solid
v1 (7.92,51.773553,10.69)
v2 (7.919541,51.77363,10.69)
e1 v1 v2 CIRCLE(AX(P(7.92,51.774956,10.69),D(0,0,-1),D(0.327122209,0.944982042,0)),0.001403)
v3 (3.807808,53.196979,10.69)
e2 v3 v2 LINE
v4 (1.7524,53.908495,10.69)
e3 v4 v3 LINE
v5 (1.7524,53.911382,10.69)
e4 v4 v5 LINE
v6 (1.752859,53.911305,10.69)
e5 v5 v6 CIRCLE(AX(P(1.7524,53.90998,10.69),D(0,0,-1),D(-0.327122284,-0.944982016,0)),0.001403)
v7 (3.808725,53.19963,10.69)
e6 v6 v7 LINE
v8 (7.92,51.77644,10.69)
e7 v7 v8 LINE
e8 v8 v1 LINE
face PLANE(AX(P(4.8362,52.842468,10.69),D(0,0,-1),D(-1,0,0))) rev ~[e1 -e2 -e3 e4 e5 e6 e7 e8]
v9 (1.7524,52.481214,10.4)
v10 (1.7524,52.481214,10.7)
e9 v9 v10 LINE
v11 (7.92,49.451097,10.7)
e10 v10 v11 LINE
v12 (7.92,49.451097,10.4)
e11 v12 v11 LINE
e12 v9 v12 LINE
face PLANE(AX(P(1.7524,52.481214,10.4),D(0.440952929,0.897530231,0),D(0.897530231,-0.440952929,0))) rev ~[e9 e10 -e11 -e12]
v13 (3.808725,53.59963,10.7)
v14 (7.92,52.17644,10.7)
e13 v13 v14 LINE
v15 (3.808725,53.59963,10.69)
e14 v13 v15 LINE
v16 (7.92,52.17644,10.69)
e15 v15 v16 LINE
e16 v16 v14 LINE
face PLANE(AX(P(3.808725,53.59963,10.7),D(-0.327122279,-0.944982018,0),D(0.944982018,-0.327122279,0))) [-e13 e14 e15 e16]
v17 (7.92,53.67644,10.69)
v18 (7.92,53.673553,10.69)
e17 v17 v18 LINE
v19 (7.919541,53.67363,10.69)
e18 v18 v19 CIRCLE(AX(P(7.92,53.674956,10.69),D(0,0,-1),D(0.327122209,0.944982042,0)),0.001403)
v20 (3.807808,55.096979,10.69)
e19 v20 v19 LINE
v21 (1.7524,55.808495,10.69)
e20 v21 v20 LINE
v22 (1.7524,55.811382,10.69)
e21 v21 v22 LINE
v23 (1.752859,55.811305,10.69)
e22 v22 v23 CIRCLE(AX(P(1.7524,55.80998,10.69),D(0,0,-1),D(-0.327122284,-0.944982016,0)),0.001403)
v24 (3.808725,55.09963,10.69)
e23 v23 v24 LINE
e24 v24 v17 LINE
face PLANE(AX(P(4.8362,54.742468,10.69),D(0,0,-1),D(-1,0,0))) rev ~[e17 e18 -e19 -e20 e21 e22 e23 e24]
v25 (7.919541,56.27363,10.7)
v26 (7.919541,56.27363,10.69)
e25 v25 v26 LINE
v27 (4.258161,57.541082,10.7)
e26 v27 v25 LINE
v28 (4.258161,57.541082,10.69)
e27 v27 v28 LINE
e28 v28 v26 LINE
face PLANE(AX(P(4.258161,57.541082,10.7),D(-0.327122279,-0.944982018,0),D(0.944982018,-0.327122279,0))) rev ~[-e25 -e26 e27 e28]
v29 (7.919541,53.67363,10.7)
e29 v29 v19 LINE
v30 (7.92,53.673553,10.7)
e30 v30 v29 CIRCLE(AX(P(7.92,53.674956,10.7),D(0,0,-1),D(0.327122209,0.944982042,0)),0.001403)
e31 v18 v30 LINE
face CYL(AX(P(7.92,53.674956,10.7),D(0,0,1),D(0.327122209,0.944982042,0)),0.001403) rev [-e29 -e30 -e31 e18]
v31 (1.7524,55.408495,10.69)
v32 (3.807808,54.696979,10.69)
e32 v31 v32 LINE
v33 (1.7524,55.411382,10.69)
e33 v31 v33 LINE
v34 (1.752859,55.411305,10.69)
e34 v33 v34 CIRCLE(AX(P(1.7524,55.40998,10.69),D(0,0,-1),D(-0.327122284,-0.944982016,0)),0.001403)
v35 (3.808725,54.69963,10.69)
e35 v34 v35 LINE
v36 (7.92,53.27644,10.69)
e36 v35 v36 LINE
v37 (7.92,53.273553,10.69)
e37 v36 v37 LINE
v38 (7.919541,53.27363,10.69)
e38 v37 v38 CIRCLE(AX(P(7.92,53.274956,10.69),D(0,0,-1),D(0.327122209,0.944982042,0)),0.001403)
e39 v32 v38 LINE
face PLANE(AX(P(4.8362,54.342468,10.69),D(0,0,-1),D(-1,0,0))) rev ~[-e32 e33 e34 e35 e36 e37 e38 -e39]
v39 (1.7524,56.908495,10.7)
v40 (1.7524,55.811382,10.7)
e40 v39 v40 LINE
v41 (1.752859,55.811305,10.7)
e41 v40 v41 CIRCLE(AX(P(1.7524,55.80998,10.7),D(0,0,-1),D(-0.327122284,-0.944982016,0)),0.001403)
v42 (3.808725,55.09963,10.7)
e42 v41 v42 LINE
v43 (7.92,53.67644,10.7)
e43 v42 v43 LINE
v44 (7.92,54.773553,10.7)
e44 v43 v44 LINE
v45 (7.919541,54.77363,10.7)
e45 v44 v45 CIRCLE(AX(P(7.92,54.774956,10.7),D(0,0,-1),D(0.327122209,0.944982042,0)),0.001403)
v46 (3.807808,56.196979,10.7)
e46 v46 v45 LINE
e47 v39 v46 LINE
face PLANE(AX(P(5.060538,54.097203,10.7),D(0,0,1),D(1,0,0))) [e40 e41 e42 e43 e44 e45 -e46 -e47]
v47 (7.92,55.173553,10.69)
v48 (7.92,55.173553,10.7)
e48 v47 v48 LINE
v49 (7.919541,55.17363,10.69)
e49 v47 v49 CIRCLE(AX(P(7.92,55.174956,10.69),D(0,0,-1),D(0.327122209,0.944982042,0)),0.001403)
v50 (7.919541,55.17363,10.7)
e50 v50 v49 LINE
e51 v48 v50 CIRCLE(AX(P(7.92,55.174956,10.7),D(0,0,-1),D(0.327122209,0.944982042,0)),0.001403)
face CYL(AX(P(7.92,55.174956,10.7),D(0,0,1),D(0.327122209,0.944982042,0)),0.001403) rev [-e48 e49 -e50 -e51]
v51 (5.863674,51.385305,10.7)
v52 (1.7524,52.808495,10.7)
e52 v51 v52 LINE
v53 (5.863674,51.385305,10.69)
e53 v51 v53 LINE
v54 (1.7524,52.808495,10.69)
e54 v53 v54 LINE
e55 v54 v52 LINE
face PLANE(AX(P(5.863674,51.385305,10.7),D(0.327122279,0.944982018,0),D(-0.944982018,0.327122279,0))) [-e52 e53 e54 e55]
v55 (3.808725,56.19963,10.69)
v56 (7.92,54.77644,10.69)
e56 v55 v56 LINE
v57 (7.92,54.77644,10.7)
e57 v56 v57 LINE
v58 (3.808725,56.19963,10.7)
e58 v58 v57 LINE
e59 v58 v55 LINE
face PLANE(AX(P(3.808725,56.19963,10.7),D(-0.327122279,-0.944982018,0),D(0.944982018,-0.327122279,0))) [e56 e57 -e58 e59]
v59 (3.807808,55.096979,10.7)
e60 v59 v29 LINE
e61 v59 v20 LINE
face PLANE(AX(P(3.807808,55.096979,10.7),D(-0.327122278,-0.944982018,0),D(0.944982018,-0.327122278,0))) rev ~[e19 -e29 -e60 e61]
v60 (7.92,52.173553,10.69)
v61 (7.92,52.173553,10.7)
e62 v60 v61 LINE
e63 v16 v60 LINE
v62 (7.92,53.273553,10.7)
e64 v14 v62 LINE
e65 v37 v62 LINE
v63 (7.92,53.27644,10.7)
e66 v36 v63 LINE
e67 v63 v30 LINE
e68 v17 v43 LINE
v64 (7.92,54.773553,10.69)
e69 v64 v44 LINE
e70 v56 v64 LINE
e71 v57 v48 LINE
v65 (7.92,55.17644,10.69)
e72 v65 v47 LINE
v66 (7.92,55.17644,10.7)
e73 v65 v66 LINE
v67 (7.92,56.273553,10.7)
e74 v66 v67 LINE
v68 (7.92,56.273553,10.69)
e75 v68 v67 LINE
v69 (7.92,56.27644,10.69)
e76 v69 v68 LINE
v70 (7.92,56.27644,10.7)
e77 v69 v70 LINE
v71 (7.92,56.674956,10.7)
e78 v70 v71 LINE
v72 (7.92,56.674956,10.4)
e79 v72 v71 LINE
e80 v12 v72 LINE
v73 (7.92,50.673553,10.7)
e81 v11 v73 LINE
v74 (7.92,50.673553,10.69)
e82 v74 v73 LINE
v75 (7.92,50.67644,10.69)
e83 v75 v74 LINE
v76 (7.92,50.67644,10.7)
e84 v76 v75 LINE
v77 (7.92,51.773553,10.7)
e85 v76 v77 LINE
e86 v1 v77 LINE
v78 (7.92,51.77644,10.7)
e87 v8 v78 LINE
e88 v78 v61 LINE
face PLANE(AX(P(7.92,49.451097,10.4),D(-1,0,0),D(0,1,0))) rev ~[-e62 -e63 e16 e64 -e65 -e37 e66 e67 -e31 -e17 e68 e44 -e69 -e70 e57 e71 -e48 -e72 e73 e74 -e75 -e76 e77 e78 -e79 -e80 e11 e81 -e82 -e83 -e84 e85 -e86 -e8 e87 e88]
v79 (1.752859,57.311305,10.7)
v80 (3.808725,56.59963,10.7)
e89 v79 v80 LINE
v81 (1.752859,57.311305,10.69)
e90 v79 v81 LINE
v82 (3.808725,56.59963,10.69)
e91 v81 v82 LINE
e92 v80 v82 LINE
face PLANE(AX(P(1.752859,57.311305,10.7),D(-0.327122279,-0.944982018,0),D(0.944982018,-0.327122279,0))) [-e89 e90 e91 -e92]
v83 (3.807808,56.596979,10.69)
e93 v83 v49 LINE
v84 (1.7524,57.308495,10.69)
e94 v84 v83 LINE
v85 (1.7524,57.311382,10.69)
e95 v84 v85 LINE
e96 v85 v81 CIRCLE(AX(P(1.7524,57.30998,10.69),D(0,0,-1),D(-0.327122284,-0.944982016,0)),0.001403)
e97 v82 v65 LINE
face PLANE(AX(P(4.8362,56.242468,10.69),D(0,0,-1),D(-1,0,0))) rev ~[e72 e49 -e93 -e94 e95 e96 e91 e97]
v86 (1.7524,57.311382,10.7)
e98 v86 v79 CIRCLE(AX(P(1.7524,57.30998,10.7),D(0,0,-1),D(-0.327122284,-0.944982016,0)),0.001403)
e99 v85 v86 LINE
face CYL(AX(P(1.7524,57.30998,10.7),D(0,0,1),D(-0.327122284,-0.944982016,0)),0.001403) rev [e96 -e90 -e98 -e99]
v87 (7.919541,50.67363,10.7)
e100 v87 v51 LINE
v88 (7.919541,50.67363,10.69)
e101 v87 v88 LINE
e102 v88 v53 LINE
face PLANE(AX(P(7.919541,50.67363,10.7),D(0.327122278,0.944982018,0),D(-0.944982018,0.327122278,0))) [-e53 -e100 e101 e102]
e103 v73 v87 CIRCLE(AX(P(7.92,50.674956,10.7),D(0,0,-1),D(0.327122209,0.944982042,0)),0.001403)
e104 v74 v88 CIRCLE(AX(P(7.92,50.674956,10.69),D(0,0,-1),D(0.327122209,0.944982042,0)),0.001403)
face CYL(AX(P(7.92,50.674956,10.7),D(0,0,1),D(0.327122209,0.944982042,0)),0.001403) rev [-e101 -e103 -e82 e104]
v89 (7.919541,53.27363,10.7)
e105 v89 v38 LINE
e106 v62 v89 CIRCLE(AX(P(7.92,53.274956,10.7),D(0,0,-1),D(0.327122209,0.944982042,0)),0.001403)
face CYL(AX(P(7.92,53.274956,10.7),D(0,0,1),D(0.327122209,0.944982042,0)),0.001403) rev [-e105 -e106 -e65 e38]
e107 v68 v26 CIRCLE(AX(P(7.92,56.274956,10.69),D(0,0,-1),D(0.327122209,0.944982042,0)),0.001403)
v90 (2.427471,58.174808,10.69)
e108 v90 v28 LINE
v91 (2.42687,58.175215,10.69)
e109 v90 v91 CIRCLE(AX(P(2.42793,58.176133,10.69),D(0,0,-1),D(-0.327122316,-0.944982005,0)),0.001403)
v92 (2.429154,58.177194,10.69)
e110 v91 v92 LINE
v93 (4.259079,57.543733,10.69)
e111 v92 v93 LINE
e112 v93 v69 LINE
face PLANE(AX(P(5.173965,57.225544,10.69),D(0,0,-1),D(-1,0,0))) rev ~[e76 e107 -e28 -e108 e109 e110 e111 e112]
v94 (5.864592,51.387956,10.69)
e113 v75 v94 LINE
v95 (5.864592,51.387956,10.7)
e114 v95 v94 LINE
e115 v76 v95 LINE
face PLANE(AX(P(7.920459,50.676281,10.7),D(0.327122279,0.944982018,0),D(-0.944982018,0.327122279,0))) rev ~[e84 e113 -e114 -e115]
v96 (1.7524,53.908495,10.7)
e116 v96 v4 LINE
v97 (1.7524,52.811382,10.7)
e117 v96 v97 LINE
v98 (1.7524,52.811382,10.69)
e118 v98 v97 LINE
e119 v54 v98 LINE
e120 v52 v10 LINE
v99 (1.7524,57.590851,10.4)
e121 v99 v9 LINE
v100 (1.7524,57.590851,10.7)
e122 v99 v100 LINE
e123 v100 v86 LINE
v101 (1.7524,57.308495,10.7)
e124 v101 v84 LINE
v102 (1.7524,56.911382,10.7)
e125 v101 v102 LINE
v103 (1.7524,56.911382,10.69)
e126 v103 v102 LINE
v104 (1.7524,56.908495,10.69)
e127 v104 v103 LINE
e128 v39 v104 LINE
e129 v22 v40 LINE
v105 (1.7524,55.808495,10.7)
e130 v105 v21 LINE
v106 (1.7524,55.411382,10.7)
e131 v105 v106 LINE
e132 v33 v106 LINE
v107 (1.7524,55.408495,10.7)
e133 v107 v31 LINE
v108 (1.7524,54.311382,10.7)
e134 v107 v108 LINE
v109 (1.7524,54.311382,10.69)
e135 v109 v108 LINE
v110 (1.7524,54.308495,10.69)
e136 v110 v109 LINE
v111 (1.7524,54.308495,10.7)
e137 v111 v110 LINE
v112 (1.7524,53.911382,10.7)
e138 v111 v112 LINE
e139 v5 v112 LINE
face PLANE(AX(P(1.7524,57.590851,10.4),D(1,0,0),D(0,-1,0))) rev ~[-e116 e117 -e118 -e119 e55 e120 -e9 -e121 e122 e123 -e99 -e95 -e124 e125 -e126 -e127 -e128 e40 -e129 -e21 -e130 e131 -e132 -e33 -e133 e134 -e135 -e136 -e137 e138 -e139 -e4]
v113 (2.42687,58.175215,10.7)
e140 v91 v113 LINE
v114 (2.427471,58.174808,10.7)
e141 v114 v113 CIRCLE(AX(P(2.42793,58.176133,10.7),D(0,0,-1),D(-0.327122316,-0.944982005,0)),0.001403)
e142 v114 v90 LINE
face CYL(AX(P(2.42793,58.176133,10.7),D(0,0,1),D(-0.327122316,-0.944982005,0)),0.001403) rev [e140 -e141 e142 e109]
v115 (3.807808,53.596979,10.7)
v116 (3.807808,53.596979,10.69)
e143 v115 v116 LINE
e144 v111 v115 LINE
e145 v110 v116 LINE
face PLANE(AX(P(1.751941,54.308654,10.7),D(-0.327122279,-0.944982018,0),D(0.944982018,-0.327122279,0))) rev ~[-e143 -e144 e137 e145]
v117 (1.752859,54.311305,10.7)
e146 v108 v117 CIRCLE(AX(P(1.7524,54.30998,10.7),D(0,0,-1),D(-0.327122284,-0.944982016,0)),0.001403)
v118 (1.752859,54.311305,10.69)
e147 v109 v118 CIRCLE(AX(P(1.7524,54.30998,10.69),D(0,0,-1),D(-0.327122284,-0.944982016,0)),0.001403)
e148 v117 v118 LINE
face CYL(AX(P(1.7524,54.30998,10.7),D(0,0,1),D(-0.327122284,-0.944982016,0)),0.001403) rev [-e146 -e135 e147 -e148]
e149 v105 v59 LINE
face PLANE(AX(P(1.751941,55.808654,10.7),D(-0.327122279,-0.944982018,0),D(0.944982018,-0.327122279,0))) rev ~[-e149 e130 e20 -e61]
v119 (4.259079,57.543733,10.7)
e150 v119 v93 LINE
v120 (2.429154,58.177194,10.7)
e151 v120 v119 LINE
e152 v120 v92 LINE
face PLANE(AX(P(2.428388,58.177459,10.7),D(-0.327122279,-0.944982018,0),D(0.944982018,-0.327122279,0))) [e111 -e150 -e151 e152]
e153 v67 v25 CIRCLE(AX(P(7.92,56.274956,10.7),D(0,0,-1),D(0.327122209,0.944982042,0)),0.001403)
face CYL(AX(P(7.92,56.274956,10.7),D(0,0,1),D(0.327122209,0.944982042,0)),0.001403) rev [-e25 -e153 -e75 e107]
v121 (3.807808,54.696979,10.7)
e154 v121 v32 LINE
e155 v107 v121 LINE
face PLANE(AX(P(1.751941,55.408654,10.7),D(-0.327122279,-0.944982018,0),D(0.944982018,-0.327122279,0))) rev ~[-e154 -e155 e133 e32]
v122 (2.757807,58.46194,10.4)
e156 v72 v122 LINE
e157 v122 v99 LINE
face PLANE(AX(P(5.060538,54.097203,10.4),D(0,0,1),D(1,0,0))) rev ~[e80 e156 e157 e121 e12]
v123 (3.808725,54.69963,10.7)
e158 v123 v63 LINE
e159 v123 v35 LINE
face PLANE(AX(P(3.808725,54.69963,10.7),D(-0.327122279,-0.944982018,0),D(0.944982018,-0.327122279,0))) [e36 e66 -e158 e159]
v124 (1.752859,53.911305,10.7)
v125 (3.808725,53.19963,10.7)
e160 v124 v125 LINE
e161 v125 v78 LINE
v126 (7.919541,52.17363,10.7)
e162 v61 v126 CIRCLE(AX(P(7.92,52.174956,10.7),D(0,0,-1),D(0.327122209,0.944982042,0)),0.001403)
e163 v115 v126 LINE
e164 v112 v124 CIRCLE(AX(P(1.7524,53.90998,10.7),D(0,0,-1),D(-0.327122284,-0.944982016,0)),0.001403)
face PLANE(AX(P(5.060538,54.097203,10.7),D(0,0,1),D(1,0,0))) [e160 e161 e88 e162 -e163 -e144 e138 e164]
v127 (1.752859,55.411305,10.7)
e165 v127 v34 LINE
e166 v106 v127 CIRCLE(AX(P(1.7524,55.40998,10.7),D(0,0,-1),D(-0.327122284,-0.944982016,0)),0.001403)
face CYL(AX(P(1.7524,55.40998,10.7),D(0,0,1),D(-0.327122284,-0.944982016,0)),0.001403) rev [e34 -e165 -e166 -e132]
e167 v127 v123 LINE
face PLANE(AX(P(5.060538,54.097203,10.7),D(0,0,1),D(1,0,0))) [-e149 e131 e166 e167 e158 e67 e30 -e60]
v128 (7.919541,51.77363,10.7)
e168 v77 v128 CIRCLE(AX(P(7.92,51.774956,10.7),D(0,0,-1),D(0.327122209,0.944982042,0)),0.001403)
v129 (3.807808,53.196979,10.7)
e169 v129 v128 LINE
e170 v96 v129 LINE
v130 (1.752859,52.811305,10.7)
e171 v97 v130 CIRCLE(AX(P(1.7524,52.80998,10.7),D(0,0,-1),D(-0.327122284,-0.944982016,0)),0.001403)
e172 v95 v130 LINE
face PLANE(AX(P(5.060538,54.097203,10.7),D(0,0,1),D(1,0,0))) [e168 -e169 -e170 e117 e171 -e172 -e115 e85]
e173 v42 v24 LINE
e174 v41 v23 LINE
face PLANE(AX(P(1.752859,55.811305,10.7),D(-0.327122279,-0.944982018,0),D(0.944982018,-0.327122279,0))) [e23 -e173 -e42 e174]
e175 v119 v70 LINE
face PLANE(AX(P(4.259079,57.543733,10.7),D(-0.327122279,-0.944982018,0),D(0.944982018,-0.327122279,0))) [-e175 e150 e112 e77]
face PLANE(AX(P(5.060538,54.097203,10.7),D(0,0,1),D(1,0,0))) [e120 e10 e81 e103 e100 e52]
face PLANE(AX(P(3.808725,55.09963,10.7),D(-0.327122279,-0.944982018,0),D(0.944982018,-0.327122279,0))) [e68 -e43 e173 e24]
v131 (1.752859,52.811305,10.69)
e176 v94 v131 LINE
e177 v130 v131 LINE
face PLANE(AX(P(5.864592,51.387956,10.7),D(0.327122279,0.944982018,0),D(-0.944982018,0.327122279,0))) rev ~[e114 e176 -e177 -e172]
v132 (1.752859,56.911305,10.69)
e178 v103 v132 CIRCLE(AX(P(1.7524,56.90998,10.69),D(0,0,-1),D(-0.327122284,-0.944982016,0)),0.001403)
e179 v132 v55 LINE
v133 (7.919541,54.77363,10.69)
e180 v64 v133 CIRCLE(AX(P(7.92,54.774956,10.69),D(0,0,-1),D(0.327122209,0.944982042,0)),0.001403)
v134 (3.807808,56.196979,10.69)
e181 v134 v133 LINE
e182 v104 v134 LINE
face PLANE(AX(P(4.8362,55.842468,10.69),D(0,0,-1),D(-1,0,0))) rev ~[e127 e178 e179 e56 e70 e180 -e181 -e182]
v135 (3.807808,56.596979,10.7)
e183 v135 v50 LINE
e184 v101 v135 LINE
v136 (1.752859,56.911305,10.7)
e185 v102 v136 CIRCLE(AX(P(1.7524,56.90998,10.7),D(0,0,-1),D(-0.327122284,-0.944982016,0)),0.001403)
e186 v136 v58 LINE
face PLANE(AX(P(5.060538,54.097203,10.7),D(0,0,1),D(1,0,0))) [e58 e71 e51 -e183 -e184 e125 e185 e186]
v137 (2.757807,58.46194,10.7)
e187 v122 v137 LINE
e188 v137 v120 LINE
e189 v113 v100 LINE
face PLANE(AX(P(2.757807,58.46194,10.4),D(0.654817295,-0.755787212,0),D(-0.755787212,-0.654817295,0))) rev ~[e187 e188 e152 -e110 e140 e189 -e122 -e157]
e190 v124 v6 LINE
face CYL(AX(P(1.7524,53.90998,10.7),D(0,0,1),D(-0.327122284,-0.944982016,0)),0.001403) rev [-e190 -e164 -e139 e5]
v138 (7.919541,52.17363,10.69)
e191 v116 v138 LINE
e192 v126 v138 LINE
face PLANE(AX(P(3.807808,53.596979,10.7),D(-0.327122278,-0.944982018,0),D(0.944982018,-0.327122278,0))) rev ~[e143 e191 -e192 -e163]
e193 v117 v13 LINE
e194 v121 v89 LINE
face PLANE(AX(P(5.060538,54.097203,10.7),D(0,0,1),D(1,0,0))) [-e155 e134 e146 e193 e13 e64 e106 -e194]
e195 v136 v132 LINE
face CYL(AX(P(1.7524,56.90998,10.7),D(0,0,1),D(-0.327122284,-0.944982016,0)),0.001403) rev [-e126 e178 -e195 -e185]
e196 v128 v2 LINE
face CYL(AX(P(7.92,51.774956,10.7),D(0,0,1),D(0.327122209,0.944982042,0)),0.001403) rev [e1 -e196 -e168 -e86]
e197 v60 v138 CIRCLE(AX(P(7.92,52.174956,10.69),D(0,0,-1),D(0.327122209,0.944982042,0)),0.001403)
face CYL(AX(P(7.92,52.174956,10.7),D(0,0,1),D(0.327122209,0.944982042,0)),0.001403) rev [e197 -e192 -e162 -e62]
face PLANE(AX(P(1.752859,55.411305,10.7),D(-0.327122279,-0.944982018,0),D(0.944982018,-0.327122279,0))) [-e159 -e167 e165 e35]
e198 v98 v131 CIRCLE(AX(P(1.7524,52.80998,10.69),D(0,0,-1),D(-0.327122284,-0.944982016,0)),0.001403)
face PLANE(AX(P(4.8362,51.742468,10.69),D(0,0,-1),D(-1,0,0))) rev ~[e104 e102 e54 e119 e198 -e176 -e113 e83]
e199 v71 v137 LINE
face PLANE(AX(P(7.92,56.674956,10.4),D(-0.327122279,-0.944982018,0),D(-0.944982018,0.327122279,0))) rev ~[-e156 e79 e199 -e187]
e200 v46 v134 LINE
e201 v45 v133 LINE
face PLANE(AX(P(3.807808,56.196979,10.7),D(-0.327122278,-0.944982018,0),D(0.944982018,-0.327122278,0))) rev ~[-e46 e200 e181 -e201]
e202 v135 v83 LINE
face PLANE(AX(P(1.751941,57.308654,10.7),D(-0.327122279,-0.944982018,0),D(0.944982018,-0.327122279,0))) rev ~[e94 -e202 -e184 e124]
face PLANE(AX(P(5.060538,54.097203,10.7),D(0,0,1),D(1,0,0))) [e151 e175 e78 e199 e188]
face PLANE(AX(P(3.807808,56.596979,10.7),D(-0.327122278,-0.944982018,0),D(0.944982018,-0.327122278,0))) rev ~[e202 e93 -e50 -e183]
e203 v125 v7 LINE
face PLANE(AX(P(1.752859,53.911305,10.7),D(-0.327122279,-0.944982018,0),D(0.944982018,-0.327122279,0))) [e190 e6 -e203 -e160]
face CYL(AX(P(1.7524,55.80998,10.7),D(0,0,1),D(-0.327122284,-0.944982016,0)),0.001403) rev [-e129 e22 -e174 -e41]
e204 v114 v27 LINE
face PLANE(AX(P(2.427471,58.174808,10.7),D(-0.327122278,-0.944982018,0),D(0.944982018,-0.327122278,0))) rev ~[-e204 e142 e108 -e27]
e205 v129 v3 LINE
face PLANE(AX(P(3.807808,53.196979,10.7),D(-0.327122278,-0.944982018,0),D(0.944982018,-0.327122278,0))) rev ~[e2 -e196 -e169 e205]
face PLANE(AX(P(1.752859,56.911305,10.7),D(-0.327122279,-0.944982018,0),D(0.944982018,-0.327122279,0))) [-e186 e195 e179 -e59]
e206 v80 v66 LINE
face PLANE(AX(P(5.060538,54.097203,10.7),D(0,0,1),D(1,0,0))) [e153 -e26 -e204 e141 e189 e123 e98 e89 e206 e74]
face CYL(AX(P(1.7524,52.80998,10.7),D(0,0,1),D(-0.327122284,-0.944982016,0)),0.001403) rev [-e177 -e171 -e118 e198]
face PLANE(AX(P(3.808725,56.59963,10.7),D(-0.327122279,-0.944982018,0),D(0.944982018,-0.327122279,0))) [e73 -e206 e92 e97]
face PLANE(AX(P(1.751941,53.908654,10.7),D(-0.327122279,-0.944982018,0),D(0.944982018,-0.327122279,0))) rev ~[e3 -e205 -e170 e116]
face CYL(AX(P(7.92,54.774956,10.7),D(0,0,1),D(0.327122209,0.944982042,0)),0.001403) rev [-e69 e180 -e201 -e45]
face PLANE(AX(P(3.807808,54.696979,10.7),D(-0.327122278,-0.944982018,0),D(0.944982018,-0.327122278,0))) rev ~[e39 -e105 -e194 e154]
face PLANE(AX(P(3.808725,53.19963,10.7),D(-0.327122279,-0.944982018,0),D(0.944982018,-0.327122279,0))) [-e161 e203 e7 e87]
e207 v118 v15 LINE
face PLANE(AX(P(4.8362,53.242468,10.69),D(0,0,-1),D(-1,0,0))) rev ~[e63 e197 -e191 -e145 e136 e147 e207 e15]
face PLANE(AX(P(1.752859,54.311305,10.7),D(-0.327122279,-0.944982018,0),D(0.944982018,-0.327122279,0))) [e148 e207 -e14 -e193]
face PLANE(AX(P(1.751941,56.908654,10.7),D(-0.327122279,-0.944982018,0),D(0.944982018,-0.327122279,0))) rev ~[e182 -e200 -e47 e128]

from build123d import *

# Parameters (mm, degrees)
PAD002_DEPTH    = 0.3
POCKET008_DEPTH = 0.01
POCKET009_DEPTH = 0.01


with BuildPart() as part:
    # Sketch009 (on Face1 of Binder002) → Pad002 (new body)
    with BuildSketch(Plane.XY.offset(10.4)):
        Polygon((1.7523997574, 57.5908510487), (1.7523997574, 52.4812141451), (7.92, 49.4510973901), (7.92, 56.6749555236), (2.7578069465, 58.4619401658), align=None)
    extrude(amount=PAD002_DEPTH)

    # Sketch010 (on Face7 of Pad002) → Pocket008 (cut)
    with BuildSketch(Plane.XY.offset(10.7)):
        with BuildLine():
            ThreePointArc((2.4274707916, 58.1748075445), (2.4266041369, 58.1765918899), (2.4283884823, 58.1774585447))
            Line((2.4283884823, 58.1774585447), (4.2590786033, 57.5437327043))
            Line((4.2590786033, 57.5437327043), (7.9204588453, 56.2762810237))
            ThreePointArc((7.9204588453, 56.2762810237), (7.9213255001, 56.2744966783), (7.9195411547, 56.2736300236))
            Line((4.2581609127, 57.5410817042), (7.9195411547, 56.2736300236))
            Line((2.4274707916, 58.1748075445), (4.2581609127, 57.5410817042))
        make_face()
        with BuildLine():
            ThreePointArc((7.9204588453, 50.6762810237), (7.9213255001, 50.6744966783), (7.9195411547, 50.6736300236))
            Line((7.9195411547, 50.6736300236), (5.8636744071, 51.3853047451))
            Line((5.8636744071, 51.3853047451), (1.7519409121, 52.8086541883))
            ThreePointArc((1.7519409121, 52.8086541883), (1.7510742574, 52.8104385337), (1.7528586028, 52.8113051884))
            Line((5.8645920978, 51.3879557453), (1.7528586028, 52.8113051884))
            Line((7.9204588453, 50.6762810237), (5.8645920978, 51.3879557453))
        make_face()
        with BuildLine():
            ThreePointArc((1.7519409121, 53.9086541883), (1.7510742574, 53.9104385337), (1.7528586028, 53.9113051884))
            Line((1.7528586028, 53.9113051884), (3.8087253503, 53.1996304668))
            Line((3.8087253503, 53.1996304668), (7.9204588453, 51.7762810237))
            ThreePointArc((7.9204588453, 51.7762810237), (7.9213255001, 51.7744966783), (7.9195411547, 51.7736300236))
            Line((3.8078076596, 53.1969794667), (7.9195411547, 51.7736300236))
            Line((1.7519409121, 53.9086541883), (3.8078076596, 53.1969794667))
        make_face()
        with BuildLine():
            ThreePointArc((1.7519409121, 54.3086541883), (1.7510742574, 54.3104385337), (1.7528586028, 54.3113051884))
            Line((1.7528586028, 54.3113051884), (3.8087253503, 53.5996304668))
            Line((3.8087253503, 53.5996304668), (7.9204588453, 52.1762810237))
            ThreePointArc((7.9204588453, 52.1762810237), (7.9213255001, 52.1744966783), (7.9195411547, 52.1736300236))
            Line((3.8078076596, 53.5969794667), (7.9195411547, 52.1736300236))
            Line((1.7519409121, 54.3086541883), (3.8078076596, 53.5969794667))
        make_face()
        with BuildLine():
            ThreePointArc((1.7519409121, 55.4086541883), (1.7510742574, 55.4104385337), (1.7528586028, 55.4113051884))
            Line((1.7528586028, 55.4113051884), (3.8087253503, 54.6996304668))
            Line((3.8087253503, 54.6996304668), (7.9204588453, 53.2762810237))
            ThreePointArc((7.9204588453, 53.2762810237), (7.9213255001, 53.2744966783), (7.9195411547, 53.2736300236))
            Line((3.8078076596, 54.6969794667), (7.9195411547, 53.2736300236))
            Line((1.7519409121, 55.4086541883), (3.8078076596, 54.6969794667))
        make_face()
        with BuildLine():
            ThreePointArc((1.7519409121, 55.8086541883), (1.7510742574, 55.8104385337), (1.7528586028, 55.8113051884))
            Line((1.7528586028, 55.8113051884), (3.8087253503, 55.0996304668))
            Line((3.8087253503, 55.0996304668), (7.9204588453, 53.6762810237))
            ThreePointArc((7.9204588453, 53.6762810237), (7.9213255001, 53.6744966783), (7.9195411547, 53.6736300236))
            Line((3.8078076596, 55.0969794667), (7.9195411547, 53.6736300236))
            Line((1.7519409121, 55.8086541883), (3.8078076596, 55.0969794667))
        make_face()
        with BuildLine():
            ThreePointArc((1.7519409121, 56.9086541883), (1.7510742574, 56.9104385337), (1.7528586028, 56.9113051884))
            Line((1.7528586028, 56.9113051884), (3.8087253503, 56.1996304668))
            Line((3.8087253503, 56.1996304668), (7.9204588453, 54.7762810237))
            ThreePointArc((7.9204588453, 54.7762810237), (7.9213255001, 54.7744966783), (7.9195411547, 54.7736300236))
            Line((3.8078076596, 56.1969794667), (7.9195411547, 54.7736300236))
            Line((1.7519409121, 56.9086541883), (3.8078076596, 56.1969794667))
        make_face()
        with BuildLine():
            ThreePointArc((1.7519409121, 57.3086541883), (1.7510742574, 57.3104385337), (1.7528586028, 57.3113051884))
            Line((1.7528586028, 57.3113051884), (3.8087253503, 56.5996304668))
            Line((3.8087253503, 56.5996304668), (7.9204588453, 55.1762810237))
            ThreePointArc((7.9204588453, 55.1762810237), (7.9213255001, 55.1744966783), (7.9195411547, 55.1736300236))
            Line((3.8078076596, 56.5969794667), (7.9195411547, 55.1736300236))
            Line((1.7519409121, 57.3086541883), (3.8078076596, 56.5969794667))
        make_face()
    extrude(amount=-POCKET008_DEPTH, mode=Mode.SUBTRACT)

    # Sketch010 (on Face7 of Pad002) → Pocket009 (cut)
    with BuildSketch(Plane.XY.offset(10.7)):
        with BuildLine():
            ThreePointArc((2.4274707916, 58.1748075445), (2.4266041369, 58.1765918899), (2.4283884823, 58.1774585447))
            Line((2.4283884823, 58.1774585447), (4.2590786033, 57.5437327043))
            Line((4.2590786033, 57.5437327043), (7.9204588453, 56.2762810237))
            ThreePointArc((7.9204588453, 56.2762810237), (7.9213255001, 56.2744966783), (7.9195411547, 56.2736300236))
            Line((4.2581609127, 57.5410817042), (7.9195411547, 56.2736300236))
            Line((2.4274707916, 58.1748075445), (4.2581609127, 57.5410817042))
        make_face()
        with BuildLine():
            ThreePointArc((7.9204588453, 50.6762810237), (7.9213255001, 50.6744966783), (7.9195411547, 50.6736300236))
            Line((7.9195411547, 50.6736300236), (5.8636744071, 51.3853047451))
            Line((5.8636744071, 51.3853047451), (1.7519409121, 52.8086541883))
            ThreePointArc((1.7519409121, 52.8086541883), (1.7510742574, 52.8104385337), (1.7528586028, 52.8113051884))
            Line((5.8645920978, 51.3879557453), (1.7528586028, 52.8113051884))
            Line((7.9204588453, 50.6762810237), (5.8645920978, 51.3879557453))
        make_face()
        with BuildLine():
            ThreePointArc((1.7519409121, 53.9086541883), (1.7510742574, 53.9104385337), (1.7528586028, 53.9113051884))
            Line((1.7528586028, 53.9113051884), (3.8087253503, 53.1996304668))
            Line((3.8087253503, 53.1996304668), (7.9204588453, 51.7762810237))
            ThreePointArc((7.9204588453, 51.7762810237), (7.9213255001, 51.7744966783), (7.9195411547, 51.7736300236))
            Line((3.8078076596, 53.1969794667), (7.9195411547, 51.7736300236))
            Line((1.7519409121, 53.9086541883), (3.8078076596, 53.1969794667))
        make_face()
        with BuildLine():
            ThreePointArc((1.7519409121, 54.3086541883), (1.7510742574, 54.3104385337), (1.7528586028, 54.3113051884))
            Line((1.7528586028, 54.3113051884), (3.8087253503, 53.5996304668))
            Line((3.8087253503, 53.5996304668), (7.9204588453, 52.1762810237))
            ThreePointArc((7.9204588453, 52.1762810237), (7.9213255001, 52.1744966783), (7.9195411547, 52.1736300236))
            Line((3.8078076596, 53.5969794667), (7.9195411547, 52.1736300236))
            Line((1.7519409121, 54.3086541883), (3.8078076596, 53.5969794667))
        make_face()
        with BuildLine():
            ThreePointArc((1.7519409121, 55.4086541883), (1.7510742574, 55.4104385337), (1.7528586028, 55.4113051884))
            Line((1.7528586028, 55.4113051884), (3.8087253503, 54.6996304668))
            Line((3.8087253503, 54.6996304668), (7.9204588453, 53.2762810237))
            ThreePointArc((7.9204588453, 53.2762810237), (7.9213255001, 53.2744966783), (7.9195411547, 53.2736300236))
            Line((3.8078076596, 54.6969794667), (7.9195411547, 53.2736300236))
            Line((1.7519409121, 55.4086541883), (3.8078076596, 54.6969794667))
        make_face()
        with BuildLine():
            ThreePointArc((1.7519409121, 55.8086541883), (1.7510742574, 55.8104385337), (1.7528586028, 55.8113051884))
            Line((1.7528586028, 55.8113051884), (3.8087253503, 55.0996304668))
            Line((3.8087253503, 55.0996304668), (7.9204588453, 53.6762810237))
            ThreePointArc((7.9204588453, 53.6762810237), (7.9213255001, 53.6744966783), (7.9195411547, 53.6736300236))
            Line((3.8078076596, 55.0969794667), (7.9195411547, 53.6736300236))
            Line((1.7519409121, 55.8086541883), (3.8078076596, 55.0969794667))
        make_face()
        with BuildLine():
            ThreePointArc((1.7519409121, 56.9086541883), (1.7510742574, 56.9104385337), (1.7528586028, 56.9113051884))
            Line((1.7528586028, 56.9113051884), (3.8087253503, 56.1996304668))
            Line((3.8087253503, 56.1996304668), (7.9204588453, 54.7762810237))
            ThreePointArc((7.9204588453, 54.7762810237), (7.9213255001, 54.7744966783), (7.9195411547, 54.7736300236))
            Line((3.8078076596, 56.1969794667), (7.9195411547, 54.7736300236))
            Line((1.7519409121, 56.9086541883), (3.8078076596, 56.1969794667))
        make_face()
        with BuildLine():
            ThreePointArc((1.7519409121, 57.3086541883), (1.7510742574, 57.3104385337), (1.7528586028, 57.3113051884))
            Line((1.7528586028, 57.3113051884), (3.8087253503, 56.5996304668))
            Line((3.8087253503, 56.5996304668), (7.9204588453, 55.1762810237))
            ThreePointArc((7.9204588453, 55.1762810237), (7.9213255001, 55.1744966783), (7.9195411547, 55.1736300236))
            Line((3.8078076596, 56.5969794667), (7.9195411547, 55.1736300236))
            Line((1.7519409121, 57.3086541883), (3.8078076596, 56.5969794667))
        make_face()
    extrude(amount=-POCKET009_DEPTH, mode=Mode.SUBTRACT)


solid = part.part
